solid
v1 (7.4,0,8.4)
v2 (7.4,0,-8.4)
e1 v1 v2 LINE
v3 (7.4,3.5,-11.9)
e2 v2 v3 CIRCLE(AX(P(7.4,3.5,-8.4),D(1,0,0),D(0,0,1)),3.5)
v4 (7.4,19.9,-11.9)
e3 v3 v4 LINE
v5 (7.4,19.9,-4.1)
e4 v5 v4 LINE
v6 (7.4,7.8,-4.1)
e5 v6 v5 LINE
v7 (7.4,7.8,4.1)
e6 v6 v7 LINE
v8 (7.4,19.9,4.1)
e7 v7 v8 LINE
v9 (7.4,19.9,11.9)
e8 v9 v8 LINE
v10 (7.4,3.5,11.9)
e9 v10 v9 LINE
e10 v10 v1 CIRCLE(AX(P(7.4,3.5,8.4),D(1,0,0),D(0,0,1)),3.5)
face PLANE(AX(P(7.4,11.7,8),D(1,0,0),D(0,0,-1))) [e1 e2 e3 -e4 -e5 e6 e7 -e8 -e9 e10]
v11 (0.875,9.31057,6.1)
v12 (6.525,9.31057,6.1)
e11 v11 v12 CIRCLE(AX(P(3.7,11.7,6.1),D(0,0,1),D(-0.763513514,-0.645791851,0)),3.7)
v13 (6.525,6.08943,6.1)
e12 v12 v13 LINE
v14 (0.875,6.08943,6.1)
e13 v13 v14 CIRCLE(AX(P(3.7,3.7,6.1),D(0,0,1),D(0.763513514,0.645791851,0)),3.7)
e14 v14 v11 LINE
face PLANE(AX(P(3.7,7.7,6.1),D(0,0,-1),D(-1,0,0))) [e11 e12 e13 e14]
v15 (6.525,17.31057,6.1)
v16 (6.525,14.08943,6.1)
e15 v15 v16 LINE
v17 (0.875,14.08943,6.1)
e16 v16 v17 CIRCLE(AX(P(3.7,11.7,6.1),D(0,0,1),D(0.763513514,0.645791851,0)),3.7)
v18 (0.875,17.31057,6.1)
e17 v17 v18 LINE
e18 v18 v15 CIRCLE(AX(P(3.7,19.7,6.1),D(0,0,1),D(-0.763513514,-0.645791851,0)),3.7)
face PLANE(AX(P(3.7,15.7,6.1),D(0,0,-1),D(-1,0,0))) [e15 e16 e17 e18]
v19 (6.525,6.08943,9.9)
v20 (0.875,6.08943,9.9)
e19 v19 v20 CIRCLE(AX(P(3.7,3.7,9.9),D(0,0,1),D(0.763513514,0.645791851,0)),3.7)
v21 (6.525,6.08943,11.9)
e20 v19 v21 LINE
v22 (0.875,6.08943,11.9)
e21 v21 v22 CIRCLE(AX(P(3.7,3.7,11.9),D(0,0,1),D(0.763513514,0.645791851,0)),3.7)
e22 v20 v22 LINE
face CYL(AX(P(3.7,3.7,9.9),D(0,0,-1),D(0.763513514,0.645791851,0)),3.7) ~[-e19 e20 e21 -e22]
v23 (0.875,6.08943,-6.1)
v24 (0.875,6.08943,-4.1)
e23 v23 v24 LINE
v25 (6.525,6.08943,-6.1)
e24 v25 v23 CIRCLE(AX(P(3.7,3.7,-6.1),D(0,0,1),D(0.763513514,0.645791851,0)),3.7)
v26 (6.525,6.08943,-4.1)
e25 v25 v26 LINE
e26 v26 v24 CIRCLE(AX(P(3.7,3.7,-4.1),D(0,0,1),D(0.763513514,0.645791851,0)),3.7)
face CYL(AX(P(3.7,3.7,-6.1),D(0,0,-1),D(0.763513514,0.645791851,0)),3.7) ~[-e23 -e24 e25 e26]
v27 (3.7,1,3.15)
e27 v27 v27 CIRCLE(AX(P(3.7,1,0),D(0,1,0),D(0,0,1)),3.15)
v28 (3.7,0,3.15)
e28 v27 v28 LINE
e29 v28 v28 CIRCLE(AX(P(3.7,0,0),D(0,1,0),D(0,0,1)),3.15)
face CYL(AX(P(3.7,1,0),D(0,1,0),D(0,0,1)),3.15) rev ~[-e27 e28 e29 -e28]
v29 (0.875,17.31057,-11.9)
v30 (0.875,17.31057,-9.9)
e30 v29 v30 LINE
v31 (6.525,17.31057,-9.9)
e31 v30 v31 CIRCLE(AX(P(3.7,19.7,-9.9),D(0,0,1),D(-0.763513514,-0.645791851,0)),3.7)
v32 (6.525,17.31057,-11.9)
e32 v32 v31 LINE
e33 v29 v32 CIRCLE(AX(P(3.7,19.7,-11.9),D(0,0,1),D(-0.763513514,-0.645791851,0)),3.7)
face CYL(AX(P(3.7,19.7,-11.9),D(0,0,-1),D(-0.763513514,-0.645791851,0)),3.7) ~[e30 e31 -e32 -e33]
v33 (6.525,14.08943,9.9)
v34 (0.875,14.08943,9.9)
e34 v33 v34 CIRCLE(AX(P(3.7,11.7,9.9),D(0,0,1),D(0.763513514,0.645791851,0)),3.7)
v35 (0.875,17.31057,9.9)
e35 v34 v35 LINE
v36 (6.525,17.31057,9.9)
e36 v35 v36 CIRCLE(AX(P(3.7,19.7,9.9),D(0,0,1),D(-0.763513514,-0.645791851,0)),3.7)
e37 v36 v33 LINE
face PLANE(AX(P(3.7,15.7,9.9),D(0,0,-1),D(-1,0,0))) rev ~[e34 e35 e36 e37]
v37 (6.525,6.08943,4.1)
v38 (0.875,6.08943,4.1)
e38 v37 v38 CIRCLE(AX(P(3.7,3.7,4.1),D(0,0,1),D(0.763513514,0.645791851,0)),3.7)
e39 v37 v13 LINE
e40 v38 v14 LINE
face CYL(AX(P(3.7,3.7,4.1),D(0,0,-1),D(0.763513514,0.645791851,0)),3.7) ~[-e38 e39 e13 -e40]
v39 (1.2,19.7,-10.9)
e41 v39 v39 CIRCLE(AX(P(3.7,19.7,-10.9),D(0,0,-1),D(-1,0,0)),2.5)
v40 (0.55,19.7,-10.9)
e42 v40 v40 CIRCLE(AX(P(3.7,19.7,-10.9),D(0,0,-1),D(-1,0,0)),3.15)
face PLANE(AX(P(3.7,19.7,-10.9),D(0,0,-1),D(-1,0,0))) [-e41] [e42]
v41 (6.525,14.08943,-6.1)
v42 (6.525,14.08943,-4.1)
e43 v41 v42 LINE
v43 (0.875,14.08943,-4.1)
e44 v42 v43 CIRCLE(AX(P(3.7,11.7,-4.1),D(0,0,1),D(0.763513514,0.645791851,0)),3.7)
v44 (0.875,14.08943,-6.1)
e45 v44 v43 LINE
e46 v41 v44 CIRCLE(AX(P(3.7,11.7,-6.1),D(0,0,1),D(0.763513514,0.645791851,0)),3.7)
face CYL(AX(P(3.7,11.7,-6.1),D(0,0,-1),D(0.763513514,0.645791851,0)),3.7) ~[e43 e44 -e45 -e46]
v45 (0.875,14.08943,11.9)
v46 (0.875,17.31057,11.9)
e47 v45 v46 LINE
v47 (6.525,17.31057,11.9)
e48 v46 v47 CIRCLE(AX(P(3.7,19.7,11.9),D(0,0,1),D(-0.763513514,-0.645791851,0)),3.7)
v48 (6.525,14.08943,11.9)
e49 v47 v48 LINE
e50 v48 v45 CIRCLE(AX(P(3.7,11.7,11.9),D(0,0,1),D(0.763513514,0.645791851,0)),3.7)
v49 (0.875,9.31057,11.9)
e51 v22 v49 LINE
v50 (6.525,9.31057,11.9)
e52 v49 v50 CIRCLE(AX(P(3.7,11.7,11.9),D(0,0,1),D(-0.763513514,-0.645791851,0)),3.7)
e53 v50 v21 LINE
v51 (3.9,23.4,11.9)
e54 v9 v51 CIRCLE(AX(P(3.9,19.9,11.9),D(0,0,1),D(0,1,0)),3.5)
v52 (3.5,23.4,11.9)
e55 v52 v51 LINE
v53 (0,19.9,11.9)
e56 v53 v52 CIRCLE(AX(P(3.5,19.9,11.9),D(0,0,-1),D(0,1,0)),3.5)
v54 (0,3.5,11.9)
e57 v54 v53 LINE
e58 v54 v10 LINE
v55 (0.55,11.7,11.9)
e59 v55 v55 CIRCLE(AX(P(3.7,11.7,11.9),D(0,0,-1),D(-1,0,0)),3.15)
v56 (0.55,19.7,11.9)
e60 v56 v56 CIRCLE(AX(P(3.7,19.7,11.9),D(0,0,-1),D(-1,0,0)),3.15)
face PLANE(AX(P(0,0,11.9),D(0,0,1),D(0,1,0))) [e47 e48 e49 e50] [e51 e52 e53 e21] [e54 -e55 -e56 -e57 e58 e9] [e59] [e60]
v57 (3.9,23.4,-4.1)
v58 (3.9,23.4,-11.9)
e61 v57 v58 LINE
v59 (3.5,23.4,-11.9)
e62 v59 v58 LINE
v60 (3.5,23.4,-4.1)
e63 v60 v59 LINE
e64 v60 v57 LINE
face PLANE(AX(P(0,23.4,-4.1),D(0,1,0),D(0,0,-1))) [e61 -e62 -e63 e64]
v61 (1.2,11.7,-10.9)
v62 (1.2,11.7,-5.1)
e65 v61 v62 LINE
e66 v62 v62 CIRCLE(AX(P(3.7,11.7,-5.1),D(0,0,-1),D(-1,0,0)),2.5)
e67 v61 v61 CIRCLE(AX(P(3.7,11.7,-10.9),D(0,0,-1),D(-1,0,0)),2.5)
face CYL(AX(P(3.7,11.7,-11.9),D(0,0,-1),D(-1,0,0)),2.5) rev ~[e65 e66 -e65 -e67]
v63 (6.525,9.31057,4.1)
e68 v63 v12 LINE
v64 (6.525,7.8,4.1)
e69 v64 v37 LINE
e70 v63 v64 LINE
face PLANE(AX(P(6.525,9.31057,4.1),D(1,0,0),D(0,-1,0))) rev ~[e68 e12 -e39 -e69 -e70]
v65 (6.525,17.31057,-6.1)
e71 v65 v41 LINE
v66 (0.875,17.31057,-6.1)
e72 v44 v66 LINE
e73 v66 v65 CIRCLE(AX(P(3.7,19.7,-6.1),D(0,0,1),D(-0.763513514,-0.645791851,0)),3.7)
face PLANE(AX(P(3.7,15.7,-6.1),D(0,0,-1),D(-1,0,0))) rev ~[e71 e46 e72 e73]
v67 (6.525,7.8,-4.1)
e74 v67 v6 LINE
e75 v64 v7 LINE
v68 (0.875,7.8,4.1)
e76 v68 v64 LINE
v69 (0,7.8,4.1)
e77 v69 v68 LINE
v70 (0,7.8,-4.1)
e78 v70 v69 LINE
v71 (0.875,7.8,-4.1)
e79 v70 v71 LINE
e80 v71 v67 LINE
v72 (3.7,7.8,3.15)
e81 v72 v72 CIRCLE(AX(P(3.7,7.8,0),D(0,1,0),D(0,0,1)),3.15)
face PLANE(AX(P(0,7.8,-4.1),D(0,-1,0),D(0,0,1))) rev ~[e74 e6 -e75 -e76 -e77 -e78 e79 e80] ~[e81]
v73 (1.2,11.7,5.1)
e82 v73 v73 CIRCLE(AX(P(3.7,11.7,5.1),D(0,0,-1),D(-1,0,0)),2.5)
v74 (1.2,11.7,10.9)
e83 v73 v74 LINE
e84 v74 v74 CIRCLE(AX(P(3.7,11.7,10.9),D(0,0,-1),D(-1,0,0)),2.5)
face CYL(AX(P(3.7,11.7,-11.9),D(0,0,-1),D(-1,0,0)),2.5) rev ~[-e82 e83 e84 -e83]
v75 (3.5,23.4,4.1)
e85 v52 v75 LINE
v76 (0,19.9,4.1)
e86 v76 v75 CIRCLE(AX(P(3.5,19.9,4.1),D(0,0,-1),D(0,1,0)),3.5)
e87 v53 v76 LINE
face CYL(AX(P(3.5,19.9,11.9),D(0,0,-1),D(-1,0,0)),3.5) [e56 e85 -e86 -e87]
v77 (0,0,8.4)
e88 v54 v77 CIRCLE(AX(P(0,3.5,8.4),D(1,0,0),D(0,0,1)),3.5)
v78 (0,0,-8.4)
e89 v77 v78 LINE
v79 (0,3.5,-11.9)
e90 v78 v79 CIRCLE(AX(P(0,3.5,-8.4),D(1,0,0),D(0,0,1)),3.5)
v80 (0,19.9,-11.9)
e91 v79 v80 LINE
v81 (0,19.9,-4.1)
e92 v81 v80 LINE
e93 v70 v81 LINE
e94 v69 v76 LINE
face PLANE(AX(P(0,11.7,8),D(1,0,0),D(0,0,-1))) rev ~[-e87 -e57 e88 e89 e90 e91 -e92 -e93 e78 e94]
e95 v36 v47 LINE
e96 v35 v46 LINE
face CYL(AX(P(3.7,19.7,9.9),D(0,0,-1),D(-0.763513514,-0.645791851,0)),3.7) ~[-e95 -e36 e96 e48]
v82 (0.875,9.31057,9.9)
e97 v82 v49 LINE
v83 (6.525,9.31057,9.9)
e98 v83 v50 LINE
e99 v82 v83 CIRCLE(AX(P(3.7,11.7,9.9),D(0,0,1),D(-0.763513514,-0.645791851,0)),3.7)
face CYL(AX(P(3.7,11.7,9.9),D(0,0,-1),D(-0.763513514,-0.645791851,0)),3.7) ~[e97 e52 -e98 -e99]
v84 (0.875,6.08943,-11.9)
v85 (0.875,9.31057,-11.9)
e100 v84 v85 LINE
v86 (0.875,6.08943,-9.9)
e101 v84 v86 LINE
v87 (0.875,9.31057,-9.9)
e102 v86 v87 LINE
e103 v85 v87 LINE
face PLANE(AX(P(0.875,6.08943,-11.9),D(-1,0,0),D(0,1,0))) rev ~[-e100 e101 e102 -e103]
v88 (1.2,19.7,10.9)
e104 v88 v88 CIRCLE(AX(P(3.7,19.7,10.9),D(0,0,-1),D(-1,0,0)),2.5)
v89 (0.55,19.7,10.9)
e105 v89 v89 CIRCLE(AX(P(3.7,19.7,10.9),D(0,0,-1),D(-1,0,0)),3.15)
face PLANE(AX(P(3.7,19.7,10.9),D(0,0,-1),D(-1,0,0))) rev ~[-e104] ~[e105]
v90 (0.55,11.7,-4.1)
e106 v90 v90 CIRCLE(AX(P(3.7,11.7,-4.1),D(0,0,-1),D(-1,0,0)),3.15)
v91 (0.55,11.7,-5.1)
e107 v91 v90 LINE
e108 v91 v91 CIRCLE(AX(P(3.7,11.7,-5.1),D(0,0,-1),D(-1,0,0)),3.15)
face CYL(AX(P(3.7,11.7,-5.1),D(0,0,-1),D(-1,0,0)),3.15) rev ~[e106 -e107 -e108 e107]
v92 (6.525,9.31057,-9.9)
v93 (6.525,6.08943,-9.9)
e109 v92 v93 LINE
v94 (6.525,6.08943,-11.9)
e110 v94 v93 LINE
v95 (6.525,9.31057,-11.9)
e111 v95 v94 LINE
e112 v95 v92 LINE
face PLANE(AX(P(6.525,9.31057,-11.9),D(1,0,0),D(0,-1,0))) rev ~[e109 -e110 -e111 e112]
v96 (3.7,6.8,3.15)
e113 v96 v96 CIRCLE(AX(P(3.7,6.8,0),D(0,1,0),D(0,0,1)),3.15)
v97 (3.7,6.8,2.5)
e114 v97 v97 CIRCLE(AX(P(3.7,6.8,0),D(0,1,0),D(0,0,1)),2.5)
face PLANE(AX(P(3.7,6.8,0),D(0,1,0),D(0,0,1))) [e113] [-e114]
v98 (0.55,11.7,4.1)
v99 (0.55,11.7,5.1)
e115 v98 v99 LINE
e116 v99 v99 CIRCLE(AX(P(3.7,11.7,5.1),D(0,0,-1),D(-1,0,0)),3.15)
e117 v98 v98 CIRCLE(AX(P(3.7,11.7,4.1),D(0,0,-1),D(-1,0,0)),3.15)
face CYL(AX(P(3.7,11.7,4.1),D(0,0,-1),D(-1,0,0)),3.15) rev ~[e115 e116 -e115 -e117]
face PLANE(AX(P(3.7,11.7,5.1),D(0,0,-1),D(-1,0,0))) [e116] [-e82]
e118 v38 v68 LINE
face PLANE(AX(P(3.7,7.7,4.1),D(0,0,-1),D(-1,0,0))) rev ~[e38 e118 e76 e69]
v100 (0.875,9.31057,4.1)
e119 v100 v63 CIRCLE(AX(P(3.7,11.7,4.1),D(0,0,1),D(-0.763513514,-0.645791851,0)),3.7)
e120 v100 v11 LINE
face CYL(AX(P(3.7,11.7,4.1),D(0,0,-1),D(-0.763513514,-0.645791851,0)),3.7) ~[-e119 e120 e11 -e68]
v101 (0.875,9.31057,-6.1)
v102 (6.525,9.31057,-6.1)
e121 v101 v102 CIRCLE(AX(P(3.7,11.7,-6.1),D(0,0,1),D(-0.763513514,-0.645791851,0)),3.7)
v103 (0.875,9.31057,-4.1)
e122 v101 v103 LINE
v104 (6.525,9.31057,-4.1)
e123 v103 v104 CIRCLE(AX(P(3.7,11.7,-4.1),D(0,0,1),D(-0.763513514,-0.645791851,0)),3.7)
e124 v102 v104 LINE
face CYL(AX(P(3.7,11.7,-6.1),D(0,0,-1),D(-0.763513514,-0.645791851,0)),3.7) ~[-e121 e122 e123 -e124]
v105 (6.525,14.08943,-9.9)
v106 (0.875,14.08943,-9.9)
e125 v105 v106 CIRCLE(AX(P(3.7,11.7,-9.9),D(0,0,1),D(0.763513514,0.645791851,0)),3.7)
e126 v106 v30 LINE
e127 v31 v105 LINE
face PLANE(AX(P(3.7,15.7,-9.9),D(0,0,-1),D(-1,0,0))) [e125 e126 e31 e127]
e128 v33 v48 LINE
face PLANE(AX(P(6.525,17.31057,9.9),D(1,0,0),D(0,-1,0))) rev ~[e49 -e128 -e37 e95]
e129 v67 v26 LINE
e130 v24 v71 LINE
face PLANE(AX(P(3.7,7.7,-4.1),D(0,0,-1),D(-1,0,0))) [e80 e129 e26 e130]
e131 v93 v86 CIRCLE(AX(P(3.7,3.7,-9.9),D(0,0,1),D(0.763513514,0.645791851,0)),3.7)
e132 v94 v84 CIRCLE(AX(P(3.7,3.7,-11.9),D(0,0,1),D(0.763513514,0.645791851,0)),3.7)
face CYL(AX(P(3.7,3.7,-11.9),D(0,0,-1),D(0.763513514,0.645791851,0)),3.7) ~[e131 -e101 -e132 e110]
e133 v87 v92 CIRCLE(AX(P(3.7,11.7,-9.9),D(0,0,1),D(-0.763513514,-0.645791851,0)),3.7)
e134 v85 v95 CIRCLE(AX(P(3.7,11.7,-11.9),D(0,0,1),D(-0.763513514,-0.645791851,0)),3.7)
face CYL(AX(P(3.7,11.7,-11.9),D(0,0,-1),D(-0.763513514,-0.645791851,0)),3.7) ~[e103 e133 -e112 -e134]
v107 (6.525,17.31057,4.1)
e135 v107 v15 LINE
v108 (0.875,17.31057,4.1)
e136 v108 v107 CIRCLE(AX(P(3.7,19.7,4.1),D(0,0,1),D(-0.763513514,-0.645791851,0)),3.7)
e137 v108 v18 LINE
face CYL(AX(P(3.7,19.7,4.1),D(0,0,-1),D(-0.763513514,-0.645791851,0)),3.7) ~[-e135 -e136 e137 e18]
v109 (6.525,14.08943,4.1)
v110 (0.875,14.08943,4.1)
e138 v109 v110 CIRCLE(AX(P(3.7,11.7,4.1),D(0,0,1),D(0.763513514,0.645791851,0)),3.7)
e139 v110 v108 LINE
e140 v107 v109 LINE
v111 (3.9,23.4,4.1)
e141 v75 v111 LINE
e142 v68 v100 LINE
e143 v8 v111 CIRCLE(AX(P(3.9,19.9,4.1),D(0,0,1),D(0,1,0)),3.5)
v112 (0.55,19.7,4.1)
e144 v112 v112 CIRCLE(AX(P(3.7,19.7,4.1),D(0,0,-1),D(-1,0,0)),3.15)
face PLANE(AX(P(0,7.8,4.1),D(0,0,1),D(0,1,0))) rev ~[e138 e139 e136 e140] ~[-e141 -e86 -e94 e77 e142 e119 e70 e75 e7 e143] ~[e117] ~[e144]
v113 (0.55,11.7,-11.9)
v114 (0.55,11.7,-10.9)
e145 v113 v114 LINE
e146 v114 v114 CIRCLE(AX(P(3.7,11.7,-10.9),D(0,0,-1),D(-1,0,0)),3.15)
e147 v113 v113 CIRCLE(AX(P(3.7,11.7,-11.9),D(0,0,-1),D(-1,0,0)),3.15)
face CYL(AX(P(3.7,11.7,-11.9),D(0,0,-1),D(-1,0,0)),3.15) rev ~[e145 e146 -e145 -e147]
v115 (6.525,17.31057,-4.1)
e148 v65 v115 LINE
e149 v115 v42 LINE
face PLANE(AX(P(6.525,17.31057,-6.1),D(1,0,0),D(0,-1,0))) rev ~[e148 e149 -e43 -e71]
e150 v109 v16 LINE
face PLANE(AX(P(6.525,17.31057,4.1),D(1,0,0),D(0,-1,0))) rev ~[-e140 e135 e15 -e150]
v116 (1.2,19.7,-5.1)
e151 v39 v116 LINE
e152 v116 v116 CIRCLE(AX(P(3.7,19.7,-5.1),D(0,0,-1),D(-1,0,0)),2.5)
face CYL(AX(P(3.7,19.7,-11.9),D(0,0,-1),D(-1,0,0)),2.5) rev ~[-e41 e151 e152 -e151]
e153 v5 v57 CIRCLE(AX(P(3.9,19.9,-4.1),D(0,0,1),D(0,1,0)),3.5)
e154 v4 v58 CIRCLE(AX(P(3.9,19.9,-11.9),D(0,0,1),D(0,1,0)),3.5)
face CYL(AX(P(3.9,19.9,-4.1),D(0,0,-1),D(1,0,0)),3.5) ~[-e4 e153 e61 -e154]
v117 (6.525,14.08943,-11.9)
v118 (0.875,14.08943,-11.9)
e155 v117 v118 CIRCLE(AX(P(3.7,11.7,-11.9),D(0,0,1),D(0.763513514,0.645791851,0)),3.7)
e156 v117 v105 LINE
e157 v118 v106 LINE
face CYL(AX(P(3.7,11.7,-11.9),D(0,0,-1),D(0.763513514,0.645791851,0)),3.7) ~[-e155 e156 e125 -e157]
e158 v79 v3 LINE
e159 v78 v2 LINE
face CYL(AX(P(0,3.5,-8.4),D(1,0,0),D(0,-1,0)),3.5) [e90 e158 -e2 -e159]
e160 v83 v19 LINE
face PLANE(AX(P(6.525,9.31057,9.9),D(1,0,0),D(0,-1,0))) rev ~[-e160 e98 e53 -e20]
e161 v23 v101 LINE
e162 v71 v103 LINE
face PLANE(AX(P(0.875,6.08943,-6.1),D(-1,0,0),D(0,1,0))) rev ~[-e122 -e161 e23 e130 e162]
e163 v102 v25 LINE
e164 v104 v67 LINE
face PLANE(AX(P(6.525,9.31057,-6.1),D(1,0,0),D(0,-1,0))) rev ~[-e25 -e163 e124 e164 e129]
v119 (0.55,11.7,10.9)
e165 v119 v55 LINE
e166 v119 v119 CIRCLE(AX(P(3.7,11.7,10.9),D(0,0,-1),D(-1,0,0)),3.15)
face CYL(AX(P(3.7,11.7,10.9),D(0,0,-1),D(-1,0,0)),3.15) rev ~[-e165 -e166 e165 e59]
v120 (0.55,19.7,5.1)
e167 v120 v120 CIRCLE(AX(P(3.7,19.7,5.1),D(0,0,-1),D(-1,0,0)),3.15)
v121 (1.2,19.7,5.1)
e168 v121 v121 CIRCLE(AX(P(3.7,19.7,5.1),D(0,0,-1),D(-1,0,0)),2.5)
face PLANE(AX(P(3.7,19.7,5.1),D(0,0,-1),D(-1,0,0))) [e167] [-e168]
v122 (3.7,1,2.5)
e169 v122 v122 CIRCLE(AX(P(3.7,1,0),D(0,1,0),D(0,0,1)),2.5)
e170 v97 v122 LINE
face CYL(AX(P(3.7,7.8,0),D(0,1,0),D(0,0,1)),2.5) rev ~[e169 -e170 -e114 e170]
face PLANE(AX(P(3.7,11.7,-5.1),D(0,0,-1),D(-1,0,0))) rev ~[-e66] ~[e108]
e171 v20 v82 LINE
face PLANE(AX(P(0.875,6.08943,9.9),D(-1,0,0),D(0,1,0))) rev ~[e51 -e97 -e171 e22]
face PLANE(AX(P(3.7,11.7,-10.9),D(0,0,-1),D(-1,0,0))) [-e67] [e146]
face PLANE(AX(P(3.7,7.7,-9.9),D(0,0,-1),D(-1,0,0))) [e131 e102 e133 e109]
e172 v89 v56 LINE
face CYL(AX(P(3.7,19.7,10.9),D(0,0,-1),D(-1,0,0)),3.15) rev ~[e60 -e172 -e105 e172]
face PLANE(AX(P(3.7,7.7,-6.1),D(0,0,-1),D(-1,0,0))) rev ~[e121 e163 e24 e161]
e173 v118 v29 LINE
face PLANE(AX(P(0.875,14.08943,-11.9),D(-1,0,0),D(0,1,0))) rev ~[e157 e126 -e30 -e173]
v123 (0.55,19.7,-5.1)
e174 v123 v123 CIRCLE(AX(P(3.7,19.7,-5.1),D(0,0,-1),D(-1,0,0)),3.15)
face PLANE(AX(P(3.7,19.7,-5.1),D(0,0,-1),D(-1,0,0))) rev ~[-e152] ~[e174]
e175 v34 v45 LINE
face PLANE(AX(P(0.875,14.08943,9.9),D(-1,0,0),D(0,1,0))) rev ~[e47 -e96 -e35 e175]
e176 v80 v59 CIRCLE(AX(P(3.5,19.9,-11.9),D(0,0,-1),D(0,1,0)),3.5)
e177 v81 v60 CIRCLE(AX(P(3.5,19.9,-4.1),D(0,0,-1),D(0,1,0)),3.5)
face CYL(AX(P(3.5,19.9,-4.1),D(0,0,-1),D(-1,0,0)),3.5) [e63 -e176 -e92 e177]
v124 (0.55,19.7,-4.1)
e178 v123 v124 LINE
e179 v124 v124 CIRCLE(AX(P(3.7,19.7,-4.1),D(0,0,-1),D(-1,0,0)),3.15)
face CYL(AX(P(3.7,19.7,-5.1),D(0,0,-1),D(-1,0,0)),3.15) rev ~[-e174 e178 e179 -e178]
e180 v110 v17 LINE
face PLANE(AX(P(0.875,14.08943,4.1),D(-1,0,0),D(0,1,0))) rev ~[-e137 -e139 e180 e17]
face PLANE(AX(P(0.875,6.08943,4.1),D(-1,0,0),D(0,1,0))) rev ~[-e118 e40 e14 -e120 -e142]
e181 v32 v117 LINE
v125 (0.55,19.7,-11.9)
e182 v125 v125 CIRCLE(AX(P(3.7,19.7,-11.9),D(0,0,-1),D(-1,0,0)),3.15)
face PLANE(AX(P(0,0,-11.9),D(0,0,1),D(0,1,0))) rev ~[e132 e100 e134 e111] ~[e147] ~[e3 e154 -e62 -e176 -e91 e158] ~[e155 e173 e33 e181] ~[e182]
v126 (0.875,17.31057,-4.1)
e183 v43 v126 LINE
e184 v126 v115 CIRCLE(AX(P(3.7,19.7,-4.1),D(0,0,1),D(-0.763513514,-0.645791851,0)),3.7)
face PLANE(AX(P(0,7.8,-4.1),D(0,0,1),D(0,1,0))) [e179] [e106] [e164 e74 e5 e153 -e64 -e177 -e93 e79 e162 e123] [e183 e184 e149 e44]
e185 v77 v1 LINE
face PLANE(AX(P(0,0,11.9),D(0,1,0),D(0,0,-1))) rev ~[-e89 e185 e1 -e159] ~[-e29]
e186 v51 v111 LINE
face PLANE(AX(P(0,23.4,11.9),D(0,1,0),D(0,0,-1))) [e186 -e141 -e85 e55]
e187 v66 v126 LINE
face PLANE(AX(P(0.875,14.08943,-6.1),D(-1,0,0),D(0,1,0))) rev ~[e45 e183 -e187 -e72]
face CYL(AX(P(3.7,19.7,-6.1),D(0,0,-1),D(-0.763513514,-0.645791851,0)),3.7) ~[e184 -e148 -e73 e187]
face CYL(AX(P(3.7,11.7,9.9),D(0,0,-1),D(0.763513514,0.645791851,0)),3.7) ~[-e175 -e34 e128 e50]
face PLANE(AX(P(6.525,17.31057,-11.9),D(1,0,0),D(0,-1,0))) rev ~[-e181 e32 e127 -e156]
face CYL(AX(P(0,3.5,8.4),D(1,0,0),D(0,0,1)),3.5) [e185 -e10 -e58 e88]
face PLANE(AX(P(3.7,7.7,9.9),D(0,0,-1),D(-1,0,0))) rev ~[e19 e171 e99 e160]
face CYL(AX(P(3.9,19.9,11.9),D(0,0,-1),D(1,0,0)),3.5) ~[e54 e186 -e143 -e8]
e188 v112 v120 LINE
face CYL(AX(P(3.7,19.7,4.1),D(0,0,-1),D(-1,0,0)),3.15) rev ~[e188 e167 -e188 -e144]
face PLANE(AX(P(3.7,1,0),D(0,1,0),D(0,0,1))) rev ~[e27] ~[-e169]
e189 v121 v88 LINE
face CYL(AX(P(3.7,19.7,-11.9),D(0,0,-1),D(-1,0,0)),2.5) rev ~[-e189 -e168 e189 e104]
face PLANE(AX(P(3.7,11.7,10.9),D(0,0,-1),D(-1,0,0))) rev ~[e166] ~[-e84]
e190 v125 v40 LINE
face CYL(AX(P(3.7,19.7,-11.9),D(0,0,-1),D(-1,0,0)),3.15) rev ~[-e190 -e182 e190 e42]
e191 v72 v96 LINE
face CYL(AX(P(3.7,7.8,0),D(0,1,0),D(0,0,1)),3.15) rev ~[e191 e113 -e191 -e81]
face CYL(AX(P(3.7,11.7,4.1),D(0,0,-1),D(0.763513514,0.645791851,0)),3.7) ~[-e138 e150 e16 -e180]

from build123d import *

# Parameters (mm, degrees)
SKETCH_3_W             = 7.8
SKETCH_3_H             = 23.4
SKETCH_3_W_2           = 8
SKETCH_3_H_2           = 7.8
SKETCH_3_W_3           = 0.1
EXTRUDE_1_DEPTH        = 7.4
CUT_EXTRUDE_1_REACH    = 22.97
SKETCH_4_R             = 2.5
SKETCH_4_3_R           = 3.15
SKETCH_4_3_R_2         = 2.5
CUT_EXTRUDE_2_DEPTH    = 1
CUT_EXTRUDE_START      = -6.8
SKETCH_4_4_R           = 3.15
SKETCH_4_4_R_2         = 2.5
CUT_EXTRUDE_3_DEPTH    = 1
SKETCH_5_R             = 2.5
CUT_EXTRUDE_4_DEPTH    = 35.187132082
SKETCH_5_3_R           = 3.15
SKETCH_5_3_R_2         = 2.5
CUT_EXTRUDE_5_DEPTH    = 1
SKETCH_5_4_R           = 3.15
SKETCH_5_4_R_2         = 2.5
CUT_EXTRUDE_6_DEPTH    = 1
CUT_EXTRUDE_START_2    = -16
SKETCH_5_5_R           = 3.15
SKETCH_5_5_R_2         = 2.5
CUT_EXTRUDE_7_DEPTH    = 1
CUT_EXTRUDE_START_3    = -22.8
SKETCH_5_6_R           = 3.15
SKETCH_5_6_R_2         = 2.5
CUT_EXTRUDE_8_DEPTH    = 1
PATTERN_LINEAR_1_COUNT = 2
PATTERN_LINEAR_1_PITCH = 8
CUT_EXTRUDE_9_DEPTH    = 2
CUT_EXTRUDE_START_4    = -5.8
CUT_EXTRUDE_10_DEPTH   = 2
CUT_EXTRUDE_11_DEPTH   = 2
CUT_EXTRUDE_START_5    = -21.8
CUT_EXTRUDE_12_DEPTH   = 2
PATTERN_LINEAR_2_COUNT = 2
PATTERN_LINEAR_2_PITCH = 8
FILLET_1_R             = 3.5


with BuildPart() as part:
    # 草图3 → 凸台-拉伸1 (new body)
    with BuildSketch(Plane(origin=(0, 0, 0), x_dir=(0, 0, -1), z_dir=(1, 0, 0))):
        with Locations((-8, 11.7)):
            Rectangle(SKETCH_3_W, SKETCH_3_H)
        with Locations((8, 11.7)):
            Rectangle(SKETCH_3_W, SKETCH_3_H)
        with Locations((0, 3.9)):
            Rectangle(SKETCH_3_W_2, SKETCH_3_H_2)
        with Locations((-4.05, 3.9)):
            Rectangle(SKETCH_3_W_3, SKETCH_3_H_2)
        with Locations((4.05, 3.9)):
            Rectangle(SKETCH_3_W_3, SKETCH_3_H_2)
    extrude(amount=EXTRUDE_1_DEPTH)

    # 草图4 → 切除-拉伸1 (cut, up to next)
    with BuildSketch(Plane(origin=(0, 7.8, 0), x_dir=(1, 0, 0), z_dir=(0, 1, 0)), mode=Mode.PRIVATE) as cut_extrude_1_sk1:
        with Locations(Location((3.7, 0, 0), (0, 0, 270))):
            Circle(SKETCH_4_R)
    cut_extrude_1_tool1 = extrude(cut_extrude_1_sk1.sketch, amount=-CUT_EXTRUDE_1_REACH, mode=Mode.PRIVATE) & part.part
    add(cut_extrude_1_tool1.solids().sort_by_distance((3.7, 7.8, 0))[0], mode=Mode.SUBTRACT)

    # 草图4<3> → 切除-拉伸2 (cut)
    with BuildSketch(Plane(origin=(0, 7.8, 0), x_dir=(1, 0, 0), z_dir=(0, 1, 0))):
        with Locations(Location((3.7, 0, 0), (0, 0, 270))):
            Circle(SKETCH_4_3_R)
        with Locations(Location((3.7, 0, 0), (0, 0, 270))):
            Circle(SKETCH_4_3_R_2, mode=Mode.SUBTRACT)
    extrude(amount=-CUT_EXTRUDE_2_DEPTH, mode=Mode.SUBTRACT)

    # 草图4<4> → 切除-拉伸3 (cut)
    with BuildSketch(Plane(origin=(0, 7.8, 0), x_dir=(1, 0, 0), z_dir=(0, 1, 0)).offset(CUT_EXTRUDE_START)):
        with Locations(Location((3.7, 0, 0), (0, 0, 270))):
            Circle(SKETCH_4_4_R)
        with Locations(Location((3.7, 0, 0), (0, 0, 270))):
            Circle(SKETCH_4_4_R_2, mode=Mode.SUBTRACT)
    extrude(amount=-CUT_EXTRUDE_3_DEPTH, mode=Mode.SUBTRACT)

    # 草图5 → 切除-拉伸4 (cut, through all)
    with BuildSketch(Plane(origin=(0, 0, -11.9), x_dir=(-1, 0, 0), z_dir=(0, 0, -1))):
        with Locations((-3.7, 11.7)):
            Circle(SKETCH_5_R)
    cut_extrude_4 = extrude(amount=-CUT_EXTRUDE_4_DEPTH, mode=Mode.SUBTRACT)

    # 草图5<3> → 切除-拉伸5 (cut)
    with BuildSketch(Plane(origin=(0, 0, -11.9), x_dir=(-1, 0, 0), z_dir=(0, 0, -1))):
        with Locations((-3.7, 11.7)):
            Circle(SKETCH_5_3_R)
        with Locations((-3.7, 11.7)):
            Circle(SKETCH_5_3_R_2, mode=Mode.SUBTRACT)
    cut_extrude_5 = extrude(amount=-CUT_EXTRUDE_5_DEPTH, mode=Mode.SUBTRACT)

    # 草图5<4> → 切除-拉伸6 (cut)
    with BuildSketch(Plane(origin=(0, 0, -11.9), x_dir=(-1, 0, 0), z_dir=(0, 0, -1)).offset(CUT_EXTRUDE_START)):
        with Locations((-3.7, 11.7)):
            Circle(SKETCH_5_4_R)
        with Locations((-3.7, 11.7)):
            Circle(SKETCH_5_4_R_2, mode=Mode.SUBTRACT)
    cut_extrude_6 = extrude(amount=-CUT_EXTRUDE_6_DEPTH, mode=Mode.SUBTRACT)

    # 草图5<5> → 切除-拉伸7 (cut)
    with BuildSketch(Plane(origin=(0, 0, -11.9), x_dir=(-1, 0, 0), z_dir=(0, 0, -1)).offset(CUT_EXTRUDE_START_2)):
        with Locations((-3.7, 11.7)):
            Circle(SKETCH_5_5_R)
        with Locations((-3.7, 11.7)):
            Circle(SKETCH_5_5_R_2, mode=Mode.SUBTRACT)
    cut_extrude_7 = extrude(amount=-CUT_EXTRUDE_7_DEPTH, mode=Mode.SUBTRACT)

    # 草图5<6> → 切除-拉伸8 (cut)
    with BuildSketch(Plane(origin=(0, 0, -11.9), x_dir=(-1, 0, 0), z_dir=(0, 0, -1)).offset(CUT_EXTRUDE_START_3)):
        with Locations((-3.7, 11.7)):
            Circle(SKETCH_5_6_R)
        with Locations((-3.7, 11.7)):
            Circle(SKETCH_5_6_R_2, mode=Mode.SUBTRACT)
    cut_extrude_8 = extrude(amount=-CUT_EXTRUDE_8_DEPTH, mode=Mode.SUBTRACT)

    # 阵列(线性)1: 切除-拉伸4, 切除-拉伸5, 切除-拉伸6, 切除-拉伸7, 切除-拉伸8 ×2
    with Locations(*[(0, i * PATTERN_LINEAR_1_PITCH, 0) for i in range(1, PATTERN_LINEAR_1_COUNT)]):
        add(cut_extrude_4, mode=Mode.SUBTRACT)
        add(cut_extrude_5, mode=Mode.SUBTRACT)
        add(cut_extrude_6, mode=Mode.SUBTRACT)
        add(cut_extrude_7, mode=Mode.SUBTRACT)
        add(cut_extrude_8, mode=Mode.SUBTRACT)

    # 草图6 → 切除-拉伸9 (cut)
    with BuildSketch(Plane(origin=(0, 0, -11.9), x_dir=(-1, 0, 0), z_dir=(0, 0, -1))):
        with BuildLine():
            ThreePointArc((-6.525, 14.089429848), (-3.7, 15.4), (-0.875, 14.089429848))
            Line((-0.875, 14.089429848), (-0.875, 17.310570152))
            ThreePointArc((-0.875, 17.310570152), (-3.7, 16), (-6.525, 17.310570152))
            Line((-6.525, 17.310570152), (-6.525, 14.089429848))
        make_face()
    cut_extrude_9 = extrude(amount=-CUT_EXTRUDE_9_DEPTH, mode=Mode.SUBTRACT)

    # 草图6<3> → 切除-拉伸10 (cut)
    with BuildSketch(Plane(origin=(0, 0, -11.9), x_dir=(-1, 0, 0), z_dir=(0, 0, -1)).offset(CUT_EXTRUDE_START_4)):
        with BuildLine():
            ThreePointArc((-6.525, 14.089429848), (-3.7, 15.4), (-0.875, 14.089429848))
            Line((-0.875, 14.089429848), (-0.875, 17.310570152))
            ThreePointArc((-0.875, 17.310570152), (-3.7, 16), (-6.525, 17.310570152))
            Line((-6.525, 17.310570152), (-6.525, 14.089429848))
        make_face()
    cut_extrude_10 = extrude(amount=-CUT_EXTRUDE_10_DEPTH, mode=Mode.SUBTRACT)

    # 草图6<4> → 切除-拉伸11 (cut)
    with BuildSketch(Plane(origin=(0, 0, -11.9), x_dir=(-1, 0, 0), z_dir=(0, 0, -1)).offset(CUT_EXTRUDE_START_2)):
        with BuildLine():
            ThreePointArc((-6.525, 14.089429848), (-3.7, 15.4), (-0.875, 14.089429848))
            Line((-0.875, 14.089429848), (-0.875, 17.310570152))
            ThreePointArc((-0.875, 17.310570152), (-3.7, 16), (-6.525, 17.310570152))
            Line((-6.525, 17.310570152), (-6.525, 14.089429848))
        make_face()
    cut_extrude_11 = extrude(amount=-CUT_EXTRUDE_11_DEPTH, mode=Mode.SUBTRACT)

    # 草图6<5> → 切除-拉伸12 (cut)
    with BuildSketch(Plane(origin=(0, 0, -11.9), x_dir=(-1, 0, 0), z_dir=(0, 0, -1)).offset(CUT_EXTRUDE_START_5)):
        with BuildLine():
            ThreePointArc((-6.525, 14.089429848), (-3.7, 15.4), (-0.875, 14.089429848))
            Line((-0.875, 14.089429848), (-0.875, 17.310570152))
            ThreePointArc((-0.875, 17.310570152), (-3.7, 16), (-6.525, 17.310570152))
            Line((-6.525, 17.310570152), (-6.525, 14.089429848))
        make_face()
    cut_extrude_12 = extrude(amount=-CUT_EXTRUDE_12_DEPTH, mode=Mode.SUBTRACT)

    # 阵列(线性)2: 切除-拉伸9, 切除-拉伸10, 切除-拉伸11, 切除-拉伸12 ×2
    with Locations(*[(0, -i * PATTERN_LINEAR_2_PITCH, 0) for i in range(1, PATTERN_LINEAR_2_COUNT)]):
        add(cut_extrude_9, mode=Mode.SUBTRACT)
        add(cut_extrude_10, mode=Mode.SUBTRACT)
        add(cut_extrude_11, mode=Mode.SUBTRACT)
        add(cut_extrude_12, mode=Mode.SUBTRACT)

    # 圆角1
    fillet_1_edges = [part.edges().sort_by_distance(p)[0] for p in [
        (7.4, 23.4, -8),
        (0, 23.4, 8),
        (0, 23.4, -8),
        (3.7, 0, -11.9),
        (3.7, 0, 11.9),
        (7.4, 23.4, 8),
    ]]
    fillet(fillet_1_edges, radius=FILLET_1_R)


solid = part.part
